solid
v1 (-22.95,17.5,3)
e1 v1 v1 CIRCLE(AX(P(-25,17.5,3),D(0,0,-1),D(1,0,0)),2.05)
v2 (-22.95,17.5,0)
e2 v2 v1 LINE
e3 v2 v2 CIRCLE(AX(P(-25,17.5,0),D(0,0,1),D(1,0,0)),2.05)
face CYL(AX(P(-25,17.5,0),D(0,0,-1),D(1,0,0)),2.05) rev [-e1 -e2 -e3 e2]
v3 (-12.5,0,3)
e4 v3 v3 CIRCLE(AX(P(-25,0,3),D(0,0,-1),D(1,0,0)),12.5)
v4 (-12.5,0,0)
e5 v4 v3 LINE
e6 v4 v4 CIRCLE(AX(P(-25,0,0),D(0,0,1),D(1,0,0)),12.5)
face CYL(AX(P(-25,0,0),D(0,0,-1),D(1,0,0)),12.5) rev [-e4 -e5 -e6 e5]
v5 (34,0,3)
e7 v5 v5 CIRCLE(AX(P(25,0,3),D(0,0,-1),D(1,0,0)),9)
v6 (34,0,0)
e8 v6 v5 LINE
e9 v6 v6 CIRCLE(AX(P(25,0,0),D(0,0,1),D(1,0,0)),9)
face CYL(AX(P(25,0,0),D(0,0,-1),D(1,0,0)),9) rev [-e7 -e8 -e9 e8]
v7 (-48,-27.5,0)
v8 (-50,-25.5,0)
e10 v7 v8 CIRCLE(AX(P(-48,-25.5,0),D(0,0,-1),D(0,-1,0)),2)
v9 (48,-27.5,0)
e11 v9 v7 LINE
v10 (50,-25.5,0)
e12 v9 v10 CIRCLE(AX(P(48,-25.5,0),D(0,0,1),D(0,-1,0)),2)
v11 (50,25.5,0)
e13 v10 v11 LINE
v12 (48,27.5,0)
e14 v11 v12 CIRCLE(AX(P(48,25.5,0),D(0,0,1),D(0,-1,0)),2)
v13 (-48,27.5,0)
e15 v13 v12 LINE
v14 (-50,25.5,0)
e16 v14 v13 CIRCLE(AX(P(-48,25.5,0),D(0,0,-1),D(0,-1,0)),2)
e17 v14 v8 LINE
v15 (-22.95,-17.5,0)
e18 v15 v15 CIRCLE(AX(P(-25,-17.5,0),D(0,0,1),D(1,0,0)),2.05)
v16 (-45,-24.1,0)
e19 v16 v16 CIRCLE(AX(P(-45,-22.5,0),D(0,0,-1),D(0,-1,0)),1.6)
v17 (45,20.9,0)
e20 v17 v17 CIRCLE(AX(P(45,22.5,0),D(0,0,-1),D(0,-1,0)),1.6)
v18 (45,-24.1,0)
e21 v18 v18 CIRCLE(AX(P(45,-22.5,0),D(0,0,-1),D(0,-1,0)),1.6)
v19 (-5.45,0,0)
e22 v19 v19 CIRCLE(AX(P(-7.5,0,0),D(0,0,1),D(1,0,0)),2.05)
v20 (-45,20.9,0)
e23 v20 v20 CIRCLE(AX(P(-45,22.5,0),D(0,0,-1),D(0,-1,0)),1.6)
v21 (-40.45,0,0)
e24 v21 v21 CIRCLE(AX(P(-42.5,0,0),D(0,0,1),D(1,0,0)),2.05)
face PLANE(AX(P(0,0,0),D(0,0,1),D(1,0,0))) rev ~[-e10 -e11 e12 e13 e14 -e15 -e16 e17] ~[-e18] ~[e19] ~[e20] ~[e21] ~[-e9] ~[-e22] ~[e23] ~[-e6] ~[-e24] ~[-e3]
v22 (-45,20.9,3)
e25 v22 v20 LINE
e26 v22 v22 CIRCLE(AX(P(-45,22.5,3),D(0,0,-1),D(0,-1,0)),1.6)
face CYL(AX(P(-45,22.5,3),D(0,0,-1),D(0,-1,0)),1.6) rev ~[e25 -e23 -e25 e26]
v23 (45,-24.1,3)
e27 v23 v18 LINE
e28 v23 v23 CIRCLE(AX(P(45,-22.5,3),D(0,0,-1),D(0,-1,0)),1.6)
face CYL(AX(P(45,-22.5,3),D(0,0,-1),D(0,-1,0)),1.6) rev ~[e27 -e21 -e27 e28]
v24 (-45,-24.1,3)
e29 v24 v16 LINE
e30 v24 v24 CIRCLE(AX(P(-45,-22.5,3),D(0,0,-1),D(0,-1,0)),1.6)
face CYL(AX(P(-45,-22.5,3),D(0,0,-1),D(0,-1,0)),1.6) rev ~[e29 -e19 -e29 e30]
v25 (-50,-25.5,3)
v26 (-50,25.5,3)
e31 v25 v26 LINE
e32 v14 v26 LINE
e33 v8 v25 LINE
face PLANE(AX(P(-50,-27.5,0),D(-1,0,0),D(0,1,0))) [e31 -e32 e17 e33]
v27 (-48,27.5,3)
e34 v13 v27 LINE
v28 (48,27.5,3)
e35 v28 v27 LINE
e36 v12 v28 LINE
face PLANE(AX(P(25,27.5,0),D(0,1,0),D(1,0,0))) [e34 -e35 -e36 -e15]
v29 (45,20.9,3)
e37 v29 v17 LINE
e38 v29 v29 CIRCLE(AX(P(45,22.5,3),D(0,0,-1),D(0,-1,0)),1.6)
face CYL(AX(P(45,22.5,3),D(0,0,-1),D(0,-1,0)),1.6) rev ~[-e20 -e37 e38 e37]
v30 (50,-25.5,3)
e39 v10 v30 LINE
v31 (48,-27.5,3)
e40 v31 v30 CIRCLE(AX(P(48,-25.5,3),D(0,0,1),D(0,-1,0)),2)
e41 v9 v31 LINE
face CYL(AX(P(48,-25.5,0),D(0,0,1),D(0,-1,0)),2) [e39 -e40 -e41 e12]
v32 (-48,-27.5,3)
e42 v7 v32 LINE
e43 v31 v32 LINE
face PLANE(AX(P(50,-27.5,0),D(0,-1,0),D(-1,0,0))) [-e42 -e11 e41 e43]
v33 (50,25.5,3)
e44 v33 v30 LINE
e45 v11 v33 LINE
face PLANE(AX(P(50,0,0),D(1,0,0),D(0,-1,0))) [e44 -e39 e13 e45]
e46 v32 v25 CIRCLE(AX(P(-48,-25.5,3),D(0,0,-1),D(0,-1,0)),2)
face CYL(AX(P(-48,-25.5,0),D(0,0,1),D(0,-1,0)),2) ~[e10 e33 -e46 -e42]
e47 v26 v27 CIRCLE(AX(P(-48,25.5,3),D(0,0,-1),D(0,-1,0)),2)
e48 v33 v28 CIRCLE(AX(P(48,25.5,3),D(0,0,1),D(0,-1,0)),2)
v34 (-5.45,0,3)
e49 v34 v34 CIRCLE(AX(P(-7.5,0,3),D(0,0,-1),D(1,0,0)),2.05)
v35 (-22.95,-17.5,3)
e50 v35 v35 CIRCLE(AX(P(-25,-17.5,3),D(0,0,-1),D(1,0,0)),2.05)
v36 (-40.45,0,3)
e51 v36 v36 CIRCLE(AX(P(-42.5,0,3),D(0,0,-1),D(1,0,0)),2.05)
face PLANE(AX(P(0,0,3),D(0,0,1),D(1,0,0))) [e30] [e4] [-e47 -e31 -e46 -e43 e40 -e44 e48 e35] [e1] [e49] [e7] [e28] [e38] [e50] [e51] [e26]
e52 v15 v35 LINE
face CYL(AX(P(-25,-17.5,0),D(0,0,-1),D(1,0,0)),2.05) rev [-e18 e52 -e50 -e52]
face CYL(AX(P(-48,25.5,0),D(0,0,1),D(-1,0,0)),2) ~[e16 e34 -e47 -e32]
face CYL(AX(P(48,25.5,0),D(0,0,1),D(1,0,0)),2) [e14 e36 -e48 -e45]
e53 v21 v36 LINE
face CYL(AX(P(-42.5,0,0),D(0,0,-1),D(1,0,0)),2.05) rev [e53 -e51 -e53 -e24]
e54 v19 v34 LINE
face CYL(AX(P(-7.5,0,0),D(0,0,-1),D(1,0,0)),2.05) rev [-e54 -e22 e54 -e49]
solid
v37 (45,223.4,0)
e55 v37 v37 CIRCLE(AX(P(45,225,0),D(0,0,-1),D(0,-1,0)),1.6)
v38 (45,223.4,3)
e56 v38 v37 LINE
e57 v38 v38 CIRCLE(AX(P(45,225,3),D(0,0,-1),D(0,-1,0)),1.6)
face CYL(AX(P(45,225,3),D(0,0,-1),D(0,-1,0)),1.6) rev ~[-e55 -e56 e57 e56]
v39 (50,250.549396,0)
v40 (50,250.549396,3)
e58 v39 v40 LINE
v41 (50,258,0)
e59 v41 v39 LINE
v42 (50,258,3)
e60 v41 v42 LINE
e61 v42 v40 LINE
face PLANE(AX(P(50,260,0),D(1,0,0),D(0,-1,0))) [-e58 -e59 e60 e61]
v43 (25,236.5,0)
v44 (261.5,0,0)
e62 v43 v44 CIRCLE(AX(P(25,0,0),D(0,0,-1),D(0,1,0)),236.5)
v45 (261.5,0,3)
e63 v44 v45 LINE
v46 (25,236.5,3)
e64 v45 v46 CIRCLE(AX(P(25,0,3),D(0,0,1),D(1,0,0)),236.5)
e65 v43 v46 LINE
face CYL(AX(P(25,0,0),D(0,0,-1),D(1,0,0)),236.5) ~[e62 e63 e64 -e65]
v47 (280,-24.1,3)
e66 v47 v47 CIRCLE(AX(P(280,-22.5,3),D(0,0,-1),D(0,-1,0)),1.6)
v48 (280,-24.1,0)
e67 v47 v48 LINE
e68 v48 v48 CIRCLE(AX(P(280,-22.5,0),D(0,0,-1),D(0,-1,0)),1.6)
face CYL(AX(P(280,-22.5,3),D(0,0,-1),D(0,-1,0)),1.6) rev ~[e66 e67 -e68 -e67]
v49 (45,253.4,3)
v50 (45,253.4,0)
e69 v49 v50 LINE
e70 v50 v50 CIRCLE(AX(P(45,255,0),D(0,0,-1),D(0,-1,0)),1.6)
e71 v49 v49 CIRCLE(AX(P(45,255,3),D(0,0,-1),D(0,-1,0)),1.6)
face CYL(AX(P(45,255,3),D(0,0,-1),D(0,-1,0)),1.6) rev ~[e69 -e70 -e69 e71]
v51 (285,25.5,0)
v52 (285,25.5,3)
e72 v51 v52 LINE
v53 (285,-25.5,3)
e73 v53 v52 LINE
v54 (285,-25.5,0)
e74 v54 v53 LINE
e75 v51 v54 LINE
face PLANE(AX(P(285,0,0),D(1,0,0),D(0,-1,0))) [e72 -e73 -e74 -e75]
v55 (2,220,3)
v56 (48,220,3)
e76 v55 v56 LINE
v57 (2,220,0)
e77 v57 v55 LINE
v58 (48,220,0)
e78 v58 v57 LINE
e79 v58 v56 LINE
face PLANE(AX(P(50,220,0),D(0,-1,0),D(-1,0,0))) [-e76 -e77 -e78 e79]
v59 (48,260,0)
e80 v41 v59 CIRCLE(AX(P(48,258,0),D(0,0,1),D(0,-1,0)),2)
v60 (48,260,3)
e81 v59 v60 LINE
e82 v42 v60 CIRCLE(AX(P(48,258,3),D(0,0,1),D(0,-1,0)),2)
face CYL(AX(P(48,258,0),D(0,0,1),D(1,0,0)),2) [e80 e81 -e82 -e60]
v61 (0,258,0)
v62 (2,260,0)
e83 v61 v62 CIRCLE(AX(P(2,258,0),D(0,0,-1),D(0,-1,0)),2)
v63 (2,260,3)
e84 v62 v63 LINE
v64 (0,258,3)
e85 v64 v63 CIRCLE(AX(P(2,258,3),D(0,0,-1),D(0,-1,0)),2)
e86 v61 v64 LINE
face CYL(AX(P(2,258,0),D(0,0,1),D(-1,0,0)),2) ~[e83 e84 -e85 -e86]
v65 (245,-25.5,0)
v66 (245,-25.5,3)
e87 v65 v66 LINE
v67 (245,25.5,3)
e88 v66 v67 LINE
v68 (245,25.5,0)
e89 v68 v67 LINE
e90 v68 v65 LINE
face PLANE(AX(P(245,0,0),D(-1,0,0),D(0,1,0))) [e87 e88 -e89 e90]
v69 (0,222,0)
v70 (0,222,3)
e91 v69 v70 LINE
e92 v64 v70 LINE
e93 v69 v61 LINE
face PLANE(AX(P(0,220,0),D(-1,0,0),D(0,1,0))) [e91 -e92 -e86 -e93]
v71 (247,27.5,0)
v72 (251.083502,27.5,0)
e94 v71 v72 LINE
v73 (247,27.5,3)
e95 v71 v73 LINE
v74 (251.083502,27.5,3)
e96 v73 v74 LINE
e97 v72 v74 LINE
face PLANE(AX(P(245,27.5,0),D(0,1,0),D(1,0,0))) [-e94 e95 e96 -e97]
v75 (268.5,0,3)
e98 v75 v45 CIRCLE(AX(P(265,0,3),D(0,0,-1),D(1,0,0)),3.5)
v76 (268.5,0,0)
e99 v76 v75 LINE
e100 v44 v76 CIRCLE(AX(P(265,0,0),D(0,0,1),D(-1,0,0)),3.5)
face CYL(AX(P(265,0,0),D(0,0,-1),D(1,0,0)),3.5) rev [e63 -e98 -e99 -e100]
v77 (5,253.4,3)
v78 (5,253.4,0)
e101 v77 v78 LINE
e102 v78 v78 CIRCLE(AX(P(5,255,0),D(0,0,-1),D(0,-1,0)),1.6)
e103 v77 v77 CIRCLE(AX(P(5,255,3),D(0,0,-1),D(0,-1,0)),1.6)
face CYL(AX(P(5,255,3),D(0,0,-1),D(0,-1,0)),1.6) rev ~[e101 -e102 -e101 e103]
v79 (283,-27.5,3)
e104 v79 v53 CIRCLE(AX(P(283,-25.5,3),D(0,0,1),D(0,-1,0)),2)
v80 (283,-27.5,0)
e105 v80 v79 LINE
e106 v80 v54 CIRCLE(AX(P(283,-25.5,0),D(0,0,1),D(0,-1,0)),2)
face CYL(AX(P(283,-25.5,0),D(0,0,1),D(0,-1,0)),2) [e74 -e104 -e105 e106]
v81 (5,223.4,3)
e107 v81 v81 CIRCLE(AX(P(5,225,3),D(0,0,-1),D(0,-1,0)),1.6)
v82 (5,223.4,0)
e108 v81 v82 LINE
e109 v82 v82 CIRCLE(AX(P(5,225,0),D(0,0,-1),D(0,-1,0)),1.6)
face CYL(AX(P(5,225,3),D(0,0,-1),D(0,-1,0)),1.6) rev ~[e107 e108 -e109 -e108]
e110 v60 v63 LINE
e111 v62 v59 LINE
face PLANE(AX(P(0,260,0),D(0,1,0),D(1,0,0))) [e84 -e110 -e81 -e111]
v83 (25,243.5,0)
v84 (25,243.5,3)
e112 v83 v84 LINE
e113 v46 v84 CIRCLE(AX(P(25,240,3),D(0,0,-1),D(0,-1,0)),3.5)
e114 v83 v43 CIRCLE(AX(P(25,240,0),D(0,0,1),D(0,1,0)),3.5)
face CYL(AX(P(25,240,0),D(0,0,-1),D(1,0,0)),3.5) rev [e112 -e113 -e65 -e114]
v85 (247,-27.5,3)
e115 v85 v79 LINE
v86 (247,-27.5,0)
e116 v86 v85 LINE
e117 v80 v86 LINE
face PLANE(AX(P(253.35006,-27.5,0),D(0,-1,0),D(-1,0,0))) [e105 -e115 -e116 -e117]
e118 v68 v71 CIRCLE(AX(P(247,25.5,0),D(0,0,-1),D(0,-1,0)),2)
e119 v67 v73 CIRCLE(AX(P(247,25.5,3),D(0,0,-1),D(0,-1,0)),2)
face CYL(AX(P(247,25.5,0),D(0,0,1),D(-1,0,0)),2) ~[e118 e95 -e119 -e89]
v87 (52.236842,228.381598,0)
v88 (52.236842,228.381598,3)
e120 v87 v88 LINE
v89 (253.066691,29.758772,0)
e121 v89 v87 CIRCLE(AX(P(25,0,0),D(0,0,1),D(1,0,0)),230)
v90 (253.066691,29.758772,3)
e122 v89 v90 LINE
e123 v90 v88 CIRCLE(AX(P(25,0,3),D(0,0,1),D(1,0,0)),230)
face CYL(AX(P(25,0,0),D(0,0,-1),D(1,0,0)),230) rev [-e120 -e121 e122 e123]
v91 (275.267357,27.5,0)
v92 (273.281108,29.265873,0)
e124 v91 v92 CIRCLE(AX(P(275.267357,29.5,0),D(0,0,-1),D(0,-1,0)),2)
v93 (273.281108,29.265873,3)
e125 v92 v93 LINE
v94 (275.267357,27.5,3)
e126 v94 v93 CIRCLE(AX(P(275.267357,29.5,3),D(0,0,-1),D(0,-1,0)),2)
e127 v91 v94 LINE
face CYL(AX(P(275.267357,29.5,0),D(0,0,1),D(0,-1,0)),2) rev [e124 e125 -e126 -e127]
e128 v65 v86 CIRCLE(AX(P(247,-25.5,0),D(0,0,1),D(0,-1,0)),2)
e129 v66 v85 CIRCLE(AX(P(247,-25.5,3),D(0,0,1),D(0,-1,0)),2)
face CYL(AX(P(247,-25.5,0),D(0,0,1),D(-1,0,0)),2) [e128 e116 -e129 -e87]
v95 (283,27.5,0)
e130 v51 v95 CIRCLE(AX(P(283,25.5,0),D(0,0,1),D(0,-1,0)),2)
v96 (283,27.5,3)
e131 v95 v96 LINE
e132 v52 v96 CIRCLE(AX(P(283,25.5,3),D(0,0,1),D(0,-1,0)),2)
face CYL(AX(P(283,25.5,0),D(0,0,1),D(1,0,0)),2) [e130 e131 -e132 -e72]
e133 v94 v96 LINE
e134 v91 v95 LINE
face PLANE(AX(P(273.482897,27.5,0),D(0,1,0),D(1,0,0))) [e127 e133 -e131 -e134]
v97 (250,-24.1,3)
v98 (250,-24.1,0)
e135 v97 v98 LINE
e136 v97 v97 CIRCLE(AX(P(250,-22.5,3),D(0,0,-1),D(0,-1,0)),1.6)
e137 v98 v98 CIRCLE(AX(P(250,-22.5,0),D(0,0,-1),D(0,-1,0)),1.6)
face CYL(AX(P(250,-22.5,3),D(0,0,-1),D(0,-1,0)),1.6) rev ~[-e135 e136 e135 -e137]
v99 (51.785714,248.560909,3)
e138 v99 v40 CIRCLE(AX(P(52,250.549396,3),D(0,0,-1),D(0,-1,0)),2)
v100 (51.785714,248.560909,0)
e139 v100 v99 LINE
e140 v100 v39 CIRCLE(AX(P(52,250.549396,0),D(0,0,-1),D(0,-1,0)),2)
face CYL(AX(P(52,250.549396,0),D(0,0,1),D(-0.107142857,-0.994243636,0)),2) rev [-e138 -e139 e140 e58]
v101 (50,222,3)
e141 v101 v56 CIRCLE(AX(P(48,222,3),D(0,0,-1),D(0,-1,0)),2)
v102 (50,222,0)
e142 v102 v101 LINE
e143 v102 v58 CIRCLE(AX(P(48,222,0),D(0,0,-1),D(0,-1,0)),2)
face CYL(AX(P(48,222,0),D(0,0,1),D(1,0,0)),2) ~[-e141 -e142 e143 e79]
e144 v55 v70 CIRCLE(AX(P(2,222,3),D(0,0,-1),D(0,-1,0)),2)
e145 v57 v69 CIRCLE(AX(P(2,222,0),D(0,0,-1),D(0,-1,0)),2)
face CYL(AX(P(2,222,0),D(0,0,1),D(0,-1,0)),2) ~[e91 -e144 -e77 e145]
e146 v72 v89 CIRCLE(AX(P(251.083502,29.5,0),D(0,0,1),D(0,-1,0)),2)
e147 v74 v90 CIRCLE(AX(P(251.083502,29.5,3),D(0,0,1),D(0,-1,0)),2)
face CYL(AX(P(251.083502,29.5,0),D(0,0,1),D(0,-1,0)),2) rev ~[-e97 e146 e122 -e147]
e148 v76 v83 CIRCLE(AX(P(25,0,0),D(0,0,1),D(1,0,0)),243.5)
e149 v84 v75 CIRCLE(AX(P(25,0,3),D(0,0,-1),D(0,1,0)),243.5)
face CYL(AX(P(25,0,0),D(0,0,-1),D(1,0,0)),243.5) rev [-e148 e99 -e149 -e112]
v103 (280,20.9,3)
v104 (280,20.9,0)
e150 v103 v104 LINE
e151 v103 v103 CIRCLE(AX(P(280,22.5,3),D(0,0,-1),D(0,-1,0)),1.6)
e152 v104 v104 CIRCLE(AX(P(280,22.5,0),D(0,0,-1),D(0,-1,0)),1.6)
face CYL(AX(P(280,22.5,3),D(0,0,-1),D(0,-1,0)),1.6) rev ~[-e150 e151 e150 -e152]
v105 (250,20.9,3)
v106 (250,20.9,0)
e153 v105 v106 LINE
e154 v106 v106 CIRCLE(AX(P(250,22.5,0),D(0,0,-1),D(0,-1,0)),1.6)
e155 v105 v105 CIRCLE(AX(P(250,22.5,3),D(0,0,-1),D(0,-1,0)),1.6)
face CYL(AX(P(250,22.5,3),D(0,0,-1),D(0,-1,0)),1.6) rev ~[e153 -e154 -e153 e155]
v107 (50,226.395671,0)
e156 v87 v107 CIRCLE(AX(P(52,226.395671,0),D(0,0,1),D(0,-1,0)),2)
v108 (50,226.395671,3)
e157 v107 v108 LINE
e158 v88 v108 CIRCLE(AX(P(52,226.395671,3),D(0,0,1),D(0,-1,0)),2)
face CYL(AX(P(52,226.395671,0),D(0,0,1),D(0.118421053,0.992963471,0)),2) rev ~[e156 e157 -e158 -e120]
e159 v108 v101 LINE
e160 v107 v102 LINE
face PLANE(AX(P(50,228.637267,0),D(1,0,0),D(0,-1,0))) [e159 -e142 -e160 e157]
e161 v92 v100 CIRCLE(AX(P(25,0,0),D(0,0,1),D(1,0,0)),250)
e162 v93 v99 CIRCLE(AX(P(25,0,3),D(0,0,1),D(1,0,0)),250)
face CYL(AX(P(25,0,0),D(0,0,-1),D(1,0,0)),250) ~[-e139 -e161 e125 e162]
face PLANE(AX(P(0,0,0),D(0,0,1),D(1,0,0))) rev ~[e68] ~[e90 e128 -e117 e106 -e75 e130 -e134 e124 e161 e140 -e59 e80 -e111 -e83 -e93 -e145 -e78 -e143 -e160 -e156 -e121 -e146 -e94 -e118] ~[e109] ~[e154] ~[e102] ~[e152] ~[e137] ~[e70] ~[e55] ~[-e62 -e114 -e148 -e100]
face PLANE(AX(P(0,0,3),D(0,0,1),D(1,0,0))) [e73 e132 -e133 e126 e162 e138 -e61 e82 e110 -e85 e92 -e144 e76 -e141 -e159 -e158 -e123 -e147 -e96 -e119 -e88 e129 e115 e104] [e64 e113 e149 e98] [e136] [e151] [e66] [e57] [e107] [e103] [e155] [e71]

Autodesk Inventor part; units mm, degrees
ref_plane "YZ Plane" through (0, 0, 0) normal (1, 0, 0) x (0, 1, 0)
ref_plane "XZ Plane" through (0, 0, 0) normal (0, 1, 0) x (-1, 0, 0)
ref_plane "XY Plane" through (0, 0, 0) normal (0, 0, 1) x (1, 0, 0)
sketch "スケッチ1" plane through (0, 0, 0) normal (0, 0, 1) x (1, 0, 0)
  line L0 (50, -27.5) -> (-50, -27.5)
  line L1 (-50, -27.5) -> (-50, 27.5)
  line L2 (-50, 27.5) -> (50, 27.5)
  line L3 (50, 27.5) -> (50, -27.5)
  line L4 (50, -27.5) -> (-50, 27.5) construction
  line L5 (-50, -27.5) -> (50, 27.5) construction
  circle A0 centre (0, 0) radius 25
  line L6 (-50, 0) -> (50, 0)
  circle A1 centre (25, 0) radius 9
  circle A2 centre (-25, 0) radius 12.5
  circle A3 centre (-25, 0) radius 17.5
  circle A4 centre (-25, 17.5) radius 2.05
  circle A5 centre (-42.5, 0) radius 2.05
  circle A6 centre (-25, -17.5) radius 2.05
  circle A7 centre (-7.5, 0) radius 2.05
  line L7 (0, 0) -> (240, 0) construction
  line L8 (0, 0) -> (240, 0) construction
  circle A8 centre (25, 0) radius 240
  circle A9 centre (25, 0) radius 230
  circle A10 centre (25, 0) radius 250
  circle A11 centre (25, 0) radius 236.5
  circle A12 centre (25, 0) radius 243.5
  line L9 (25, 0) -> (425, 0)
  line L10 (425, 0) -> (425, 400)
  line L11 (425, 400) -> (25, 400)
  line L12 (25, 400) -> (25, 0)
  line L13 (445, -27.5) -> (405, -27.5)
  line L14 (405, -27.5) -> (405, 27.5)
  line L15 (405, 27.5) -> (445, 27.5)
  line L16 (445, 27.5) -> (445, -27.5)
  line L17 (445, -27.5) -> (405, 27.5) construction
  line L18 (405, -27.5) -> (445, 27.5) construction
  line L19 (50, 220) -> (0, 220)
  line L20 (0, 220) -> (0, 260)
  line L21 (0, 260) -> (50, 260)
  line L22 (50, 260) -> (50, 220)
  line L23 (50, 220) -> (0, 260) construction
  line L24 (0, 220) -> (50, 260) construction
  line L25 (285, -27.5) -> (245, -27.5)
  line L26 (245, -27.5) -> (245, 27.5)
  line L27 (245, 27.5) -> (285, 27.5)
  line L28 (285, 27.5) -> (285, -27.5)
  line L29 (285, -27.5) -> (245, 27.5) construction
  line L30 (245, -27.5) -> (285, 27.5) construction
  circle A13 centre (25, 240) radius 3.5
  circle A14 centre (265, 0) radius 3.5
  point P0 (273.4829, 27.5)
  point P1 (25, 250)
  point P2 (25, 243.5)
  point P3 (266.9421, 27.5)
  point P4 (259.8957, 27.5)
  point P5 (25, 236.5)
  point P6 (25, 230)
  point P7 (253.3501, 27.5)
  point P8 (50, 248.7469)
  point P9 (50, 228.6373)
  point P10 (263.4193, -27.5)
  point P11 (261.5, 0)
  point P12 (266.9421, -27.5)
  point P13 (425, 27.5)
  point P14 (405, 0)
  point P15 (25, 220)
  point P16 (0, 228.6373)
  point P17 (255, 0)
  point P18 (0, 235.1749)
  point P19 (25, 240)
  point P20 (0, 238.6944)
  point P21 (0, 242.2132)
  point P22 (0, 248.7469)
  point P23 (25, 260)
  point P24 (275, 0)
  point P25 (268.5, 0)
  point P26 (50, 235.1749)
  point P27 (50, 238.6944)
  point P28 (50, 242.2132)
  point P29 (253.3501, 27.5)
  point P30 (273.4829, 27.5)
  point P31 (25, 236.5)
  point P32 (25, 243.5)
  point P33 (268.5, 0)
  point P34 (261.5, 0)
  dimension "d5" = 35
  dimension "d0" = 100
  dimension "d1" = 55
  dimension "d2" = 50
  dimension "d3" = 18
  dimension "d4" = 25
  dimension "d6" = 4.1
  dimension "d9" = 360
  dimension "d11" = 25
  dimension "d26" = 480
  dimension "d27" = 10
  dimension "d28" = 10
  dimension "d29" = 3.5
  dimension "d30" = 3.5
  dimension "d31" = 400
  dimension "d32" = 400
  dimension "d33" = 40
  dimension "d34" = 55
  dimension "d35" = 50
  dimension "d36" = 40
  dimension "d37" = 40
  dimension "d38" = 55
extrude "押し出し1" add sketch "スケッチ1" along normal blind 3 contours L0 L1 L6 A5 A3 A6 A0 A1 L3 | L6 A1 L12 L2 L3 | L1 L2 L12 A1 A0 A3 A4 A5 L6 | L26 L27 A9 L9 | L9 A9 L25 L26 | A0 A3 A7 L6 A1 | L9 A11 L25 A9 | A9 L27 A11 L9 | A3 A4 A0 A2 L6 A5 | A5 L6 A2 A0 A3 A6 | L19 L20 A9 L12 | L12 A9 L22 L19 | A1 L6 A7 A3 A0 | A0 A2 L6 A7 A3 | A9 L22 A11 L27 | A14 A8 L25 A11 | L12 A11 L22 A9 | A9 L20 A11 L12 | A3 A7 L6 A2 A0 | A14 A12 L25 A8 | A11 L20 A8 A13 | L9 A10 L25 A12 | A12 L27 A10 L9 | A8 L20 A12 A13 | A12 L22 A10 L27 | L9 L28 L25 A10 | A10 L27 L28 L9 | L12 A10 L22 A12 | A12 L20 A10 L12 | L12 L21 L22 A10 | A10 L20 L21 L12
sketch "スケッチ2" plane through (0, 0, 3) normal (0, 0, 1) x (1, 0, 0)
  line L0 (50, 27.5) -> (-50, 27.5) projected
  line L1 (-50, 27.5) -> (-50, -27.5) projected
  line L2 (-50, -27.5) -> (50, -27.5) projected
  line L3 (50, -27.5) -> (50, 27.5) projected
  circle A0 centre (25, 0) radius 9 projected
  circle A1 centre (-7.5, 0) radius 2.05 projected
  circle A2 centre (-25, 17.5) radius 2.05 projected
  circle A3 centre (-42.5, 0) radius 2.05 projected
  circle A4 centre (-25, -17.5) radius 2.05 projected
  circle A5 centre (-25, 0) radius 12.5 projected
  line L4 (-45, 22.5) -> (45, 22.5)
  line L5 (45, 22.5) -> (45, -22.5)
  line L6 (45, -22.5) -> (-45, -22.5)
  line L7 (-45, -22.5) -> (-45, 22.5)
  line L8 (0, 260) -> (0, 220) projected
  line L9 (0, 220) -> (50, 220) projected
  line L10 (50, 220) -> (50, 228.6373) projected
  arc A6 (253.3501, 27.5) -> (50, 228.6373) centre (25, 0) ccw projected
  line L11 (253.3501, 27.5) -> (245, 27.5) projected
  line L12 (245, 27.5) -> (245, -27.5) projected
  line L13 (245, -27.5) -> (285, -27.5) projected
  line L14 (285, -27.5) -> (285, 27.5) projected
  line L15 (285, 27.5) -> (273.4829, 27.5) projected
  arc A7 (273.4829, 27.5) -> (50, 248.7469) centre (25, 0) ccw projected
  line L16 (50, 248.7469) -> (50, 260) projected
  line L17 (50, 260) -> (0, 260) projected
  arc A8 (268.5, 0) -> (25, 243.5) centre (25, 0) ccw projected
  arc A9 (261.5, 0) -> (25, 236.5) centre (25, 0) ccw projected
  line L18 (280, -22.5) -> (250, -22.5)
  line L19 (250, -22.5) -> (250, 22.5)
  line L20 (250, 22.5) -> (258.9204, 22.5)
  arc A10 (258.9204, 22.5) -> (45, 234.1474) centre (25, 0) ccw
  line L21 (45, 234.1474) -> (45, 225)
  line L22 (45, 225) -> (5, 225)
  line L23 (5, 225) -> (5, 255)
  line L24 (5, 255) -> (45, 255)
  line L25 (45, 255) -> (45, 244.1823)
  arc A11 (268.9646, 22.5) -> (45, 244.1823) centre (25, 0) ccw
  line L26 (268.9646, 22.5) -> (280, 22.5)
  line L27 (280, 22.5) -> (280, -22.5)
  arc A12 (261.5, 0) -> (268.5, 0) centre (265, 0) ccw projected
  arc A13 (25, 243.5) -> (25, 236.5) centre (25, 240) ccw projected
  point P0 (0, 0)
  dimension "d14" = 5
  dimension "d39" = 5
hole "穴1" at (-45, 22.5, 3) at (-45, -22.5, 3) at (45, -22.5, 3) at (45, 22.5, 3) at (5, 225, 3) at (5, 255, 3) at (45, 255, 3) at (45, 225, 3) at (250, -22.5, 3) at (280, -22.5, 3) at (280, 22.5, 3) at (250, 22.5, 3) direction (0, 0, -1) diameter 3.2 end through all
fillet "フィレット1" radius 2 16 edges at (-50, 27.5, 1.5) (50, 27.5, 1.5) (50, -27.5, 1.5) (-50, -27.5, 1.5) (285, -27.5, 1.5) (285, 27.5, 1.5) (245, -27.5, 1.5) (245, 27.5, 1.5) (50, 260, 1.5) (50, 248.7469, 1.5) (0, 260, 1.5) (0, 220, 1.5) (50, 220, 1.5) (50, 228.6373, 1.5) (273.4829, 27.5, 1.5) (253.3501, 27.5, 1.5)
sketch "スケッチ3" plane through (0, 0, 3) normal (0, 0, 1) x (1, 0, 0)
  arc A0 (48, 220) -> (50, 222) centre (48, 222) ccw projected
  line L0 (50, 222) -> (50, 226.3957) projected
  arc A1 (52.2368, 228.3816) -> (50, 226.3957) centre (52, 226.3957) ccw projected
  arc A2 (253.0667, 29.7588) -> (52.2368, 228.3816) centre (25, 0) ccw projected
  arc A3 (251.0835, 27.5) -> (253.0667, 29.7588) centre (251.0835, 29.5) ccw projected
  line L1 (251.0835, 27.5) -> (247, 27.5) projected
  arc A4 (247, 27.5) -> (245, 25.5) centre (247, 25.5) ccw projected
  line L2 (245, 25.5) -> (245, -25.5) projected
  arc A5 (245, -25.5) -> (247, -27.5) centre (247, -25.5) ccw projected
  line L3 (247, -27.5) -> (283, -27.5) projected
  arc A6 (283, -27.5) -> (285, -25.5) centre (283, -25.5) ccw projected
  line L4 (285, -25.5) -> (285, 25.5) projected
  arc A7 (285, 25.5) -> (283, 27.5) centre (283, 25.5) ccw projected
  line L5 (283, 27.5) -> (275.2674, 27.5) projected
  arc A8 (273.2811, 29.2659) -> (275.2674, 27.5) centre (275.2674, 29.5) ccw projected
  arc A9 (273.2811, 29.2659) -> (51.7857, 248.5609) centre (25, 0) ccw projected
  arc A10 (50, 250.5494) -> (51.7857, 248.5609) centre (52, 250.5494) ccw projected
  line L6 (50, 250.5494) -> (50, 258) projected
  arc A11 (50, 258) -> (48, 260) centre (48, 258) ccw projected
  line L7 (48, 260) -> (2, 260) projected
  arc A12 (2, 260) -> (0, 258) centre (2, 258) ccw projected
  line L8 (0, 258) -> (0, 222) projected
  arc A13 (0, 222) -> (2, 220) centre (2, 222) ccw projected
  line L9 (2, 220) -> (48, 220) projected
  circle A14 centre (250, 22.5) radius 1.6 projected
  circle A15 centre (280, 22.5) radius 1.6 projected
  circle A16 centre (280, -22.5) radius 1.6 projected
  circle A17 centre (250, -22.5) radius 1.6 projected
  circle A18 centre (45, 225) radius 1.6 projected
  circle A19 centre (45, 255) radius 1.6 projected
  circle A20 centre (5, 255) radius 1.6 projected
  circle A21 centre (5, 225) radius 1.6 projected
  arc A22 (268.5, 0) -> (25, 243.5) centre (25, 0) ccw projected
  arc A23 (261.5, 0) -> (268.5, 0) centre (265, 0) ccw projected
  arc A24 (261.5, 0) -> (25, 236.5) centre (25, 0) ccw projected
  arc A25 (25, 243.5) -> (25, 236.5) centre (25, 240) ccw projected
  point P0 (0, 0)
equation "\"d11\" = -0.5 * d2 + 0.5 * d0"
equation "\"d34\" = d1"
equation "\"d36\" = d37"
equation "\"d38\" = d1"
properties part number "xx_plate_guide"
